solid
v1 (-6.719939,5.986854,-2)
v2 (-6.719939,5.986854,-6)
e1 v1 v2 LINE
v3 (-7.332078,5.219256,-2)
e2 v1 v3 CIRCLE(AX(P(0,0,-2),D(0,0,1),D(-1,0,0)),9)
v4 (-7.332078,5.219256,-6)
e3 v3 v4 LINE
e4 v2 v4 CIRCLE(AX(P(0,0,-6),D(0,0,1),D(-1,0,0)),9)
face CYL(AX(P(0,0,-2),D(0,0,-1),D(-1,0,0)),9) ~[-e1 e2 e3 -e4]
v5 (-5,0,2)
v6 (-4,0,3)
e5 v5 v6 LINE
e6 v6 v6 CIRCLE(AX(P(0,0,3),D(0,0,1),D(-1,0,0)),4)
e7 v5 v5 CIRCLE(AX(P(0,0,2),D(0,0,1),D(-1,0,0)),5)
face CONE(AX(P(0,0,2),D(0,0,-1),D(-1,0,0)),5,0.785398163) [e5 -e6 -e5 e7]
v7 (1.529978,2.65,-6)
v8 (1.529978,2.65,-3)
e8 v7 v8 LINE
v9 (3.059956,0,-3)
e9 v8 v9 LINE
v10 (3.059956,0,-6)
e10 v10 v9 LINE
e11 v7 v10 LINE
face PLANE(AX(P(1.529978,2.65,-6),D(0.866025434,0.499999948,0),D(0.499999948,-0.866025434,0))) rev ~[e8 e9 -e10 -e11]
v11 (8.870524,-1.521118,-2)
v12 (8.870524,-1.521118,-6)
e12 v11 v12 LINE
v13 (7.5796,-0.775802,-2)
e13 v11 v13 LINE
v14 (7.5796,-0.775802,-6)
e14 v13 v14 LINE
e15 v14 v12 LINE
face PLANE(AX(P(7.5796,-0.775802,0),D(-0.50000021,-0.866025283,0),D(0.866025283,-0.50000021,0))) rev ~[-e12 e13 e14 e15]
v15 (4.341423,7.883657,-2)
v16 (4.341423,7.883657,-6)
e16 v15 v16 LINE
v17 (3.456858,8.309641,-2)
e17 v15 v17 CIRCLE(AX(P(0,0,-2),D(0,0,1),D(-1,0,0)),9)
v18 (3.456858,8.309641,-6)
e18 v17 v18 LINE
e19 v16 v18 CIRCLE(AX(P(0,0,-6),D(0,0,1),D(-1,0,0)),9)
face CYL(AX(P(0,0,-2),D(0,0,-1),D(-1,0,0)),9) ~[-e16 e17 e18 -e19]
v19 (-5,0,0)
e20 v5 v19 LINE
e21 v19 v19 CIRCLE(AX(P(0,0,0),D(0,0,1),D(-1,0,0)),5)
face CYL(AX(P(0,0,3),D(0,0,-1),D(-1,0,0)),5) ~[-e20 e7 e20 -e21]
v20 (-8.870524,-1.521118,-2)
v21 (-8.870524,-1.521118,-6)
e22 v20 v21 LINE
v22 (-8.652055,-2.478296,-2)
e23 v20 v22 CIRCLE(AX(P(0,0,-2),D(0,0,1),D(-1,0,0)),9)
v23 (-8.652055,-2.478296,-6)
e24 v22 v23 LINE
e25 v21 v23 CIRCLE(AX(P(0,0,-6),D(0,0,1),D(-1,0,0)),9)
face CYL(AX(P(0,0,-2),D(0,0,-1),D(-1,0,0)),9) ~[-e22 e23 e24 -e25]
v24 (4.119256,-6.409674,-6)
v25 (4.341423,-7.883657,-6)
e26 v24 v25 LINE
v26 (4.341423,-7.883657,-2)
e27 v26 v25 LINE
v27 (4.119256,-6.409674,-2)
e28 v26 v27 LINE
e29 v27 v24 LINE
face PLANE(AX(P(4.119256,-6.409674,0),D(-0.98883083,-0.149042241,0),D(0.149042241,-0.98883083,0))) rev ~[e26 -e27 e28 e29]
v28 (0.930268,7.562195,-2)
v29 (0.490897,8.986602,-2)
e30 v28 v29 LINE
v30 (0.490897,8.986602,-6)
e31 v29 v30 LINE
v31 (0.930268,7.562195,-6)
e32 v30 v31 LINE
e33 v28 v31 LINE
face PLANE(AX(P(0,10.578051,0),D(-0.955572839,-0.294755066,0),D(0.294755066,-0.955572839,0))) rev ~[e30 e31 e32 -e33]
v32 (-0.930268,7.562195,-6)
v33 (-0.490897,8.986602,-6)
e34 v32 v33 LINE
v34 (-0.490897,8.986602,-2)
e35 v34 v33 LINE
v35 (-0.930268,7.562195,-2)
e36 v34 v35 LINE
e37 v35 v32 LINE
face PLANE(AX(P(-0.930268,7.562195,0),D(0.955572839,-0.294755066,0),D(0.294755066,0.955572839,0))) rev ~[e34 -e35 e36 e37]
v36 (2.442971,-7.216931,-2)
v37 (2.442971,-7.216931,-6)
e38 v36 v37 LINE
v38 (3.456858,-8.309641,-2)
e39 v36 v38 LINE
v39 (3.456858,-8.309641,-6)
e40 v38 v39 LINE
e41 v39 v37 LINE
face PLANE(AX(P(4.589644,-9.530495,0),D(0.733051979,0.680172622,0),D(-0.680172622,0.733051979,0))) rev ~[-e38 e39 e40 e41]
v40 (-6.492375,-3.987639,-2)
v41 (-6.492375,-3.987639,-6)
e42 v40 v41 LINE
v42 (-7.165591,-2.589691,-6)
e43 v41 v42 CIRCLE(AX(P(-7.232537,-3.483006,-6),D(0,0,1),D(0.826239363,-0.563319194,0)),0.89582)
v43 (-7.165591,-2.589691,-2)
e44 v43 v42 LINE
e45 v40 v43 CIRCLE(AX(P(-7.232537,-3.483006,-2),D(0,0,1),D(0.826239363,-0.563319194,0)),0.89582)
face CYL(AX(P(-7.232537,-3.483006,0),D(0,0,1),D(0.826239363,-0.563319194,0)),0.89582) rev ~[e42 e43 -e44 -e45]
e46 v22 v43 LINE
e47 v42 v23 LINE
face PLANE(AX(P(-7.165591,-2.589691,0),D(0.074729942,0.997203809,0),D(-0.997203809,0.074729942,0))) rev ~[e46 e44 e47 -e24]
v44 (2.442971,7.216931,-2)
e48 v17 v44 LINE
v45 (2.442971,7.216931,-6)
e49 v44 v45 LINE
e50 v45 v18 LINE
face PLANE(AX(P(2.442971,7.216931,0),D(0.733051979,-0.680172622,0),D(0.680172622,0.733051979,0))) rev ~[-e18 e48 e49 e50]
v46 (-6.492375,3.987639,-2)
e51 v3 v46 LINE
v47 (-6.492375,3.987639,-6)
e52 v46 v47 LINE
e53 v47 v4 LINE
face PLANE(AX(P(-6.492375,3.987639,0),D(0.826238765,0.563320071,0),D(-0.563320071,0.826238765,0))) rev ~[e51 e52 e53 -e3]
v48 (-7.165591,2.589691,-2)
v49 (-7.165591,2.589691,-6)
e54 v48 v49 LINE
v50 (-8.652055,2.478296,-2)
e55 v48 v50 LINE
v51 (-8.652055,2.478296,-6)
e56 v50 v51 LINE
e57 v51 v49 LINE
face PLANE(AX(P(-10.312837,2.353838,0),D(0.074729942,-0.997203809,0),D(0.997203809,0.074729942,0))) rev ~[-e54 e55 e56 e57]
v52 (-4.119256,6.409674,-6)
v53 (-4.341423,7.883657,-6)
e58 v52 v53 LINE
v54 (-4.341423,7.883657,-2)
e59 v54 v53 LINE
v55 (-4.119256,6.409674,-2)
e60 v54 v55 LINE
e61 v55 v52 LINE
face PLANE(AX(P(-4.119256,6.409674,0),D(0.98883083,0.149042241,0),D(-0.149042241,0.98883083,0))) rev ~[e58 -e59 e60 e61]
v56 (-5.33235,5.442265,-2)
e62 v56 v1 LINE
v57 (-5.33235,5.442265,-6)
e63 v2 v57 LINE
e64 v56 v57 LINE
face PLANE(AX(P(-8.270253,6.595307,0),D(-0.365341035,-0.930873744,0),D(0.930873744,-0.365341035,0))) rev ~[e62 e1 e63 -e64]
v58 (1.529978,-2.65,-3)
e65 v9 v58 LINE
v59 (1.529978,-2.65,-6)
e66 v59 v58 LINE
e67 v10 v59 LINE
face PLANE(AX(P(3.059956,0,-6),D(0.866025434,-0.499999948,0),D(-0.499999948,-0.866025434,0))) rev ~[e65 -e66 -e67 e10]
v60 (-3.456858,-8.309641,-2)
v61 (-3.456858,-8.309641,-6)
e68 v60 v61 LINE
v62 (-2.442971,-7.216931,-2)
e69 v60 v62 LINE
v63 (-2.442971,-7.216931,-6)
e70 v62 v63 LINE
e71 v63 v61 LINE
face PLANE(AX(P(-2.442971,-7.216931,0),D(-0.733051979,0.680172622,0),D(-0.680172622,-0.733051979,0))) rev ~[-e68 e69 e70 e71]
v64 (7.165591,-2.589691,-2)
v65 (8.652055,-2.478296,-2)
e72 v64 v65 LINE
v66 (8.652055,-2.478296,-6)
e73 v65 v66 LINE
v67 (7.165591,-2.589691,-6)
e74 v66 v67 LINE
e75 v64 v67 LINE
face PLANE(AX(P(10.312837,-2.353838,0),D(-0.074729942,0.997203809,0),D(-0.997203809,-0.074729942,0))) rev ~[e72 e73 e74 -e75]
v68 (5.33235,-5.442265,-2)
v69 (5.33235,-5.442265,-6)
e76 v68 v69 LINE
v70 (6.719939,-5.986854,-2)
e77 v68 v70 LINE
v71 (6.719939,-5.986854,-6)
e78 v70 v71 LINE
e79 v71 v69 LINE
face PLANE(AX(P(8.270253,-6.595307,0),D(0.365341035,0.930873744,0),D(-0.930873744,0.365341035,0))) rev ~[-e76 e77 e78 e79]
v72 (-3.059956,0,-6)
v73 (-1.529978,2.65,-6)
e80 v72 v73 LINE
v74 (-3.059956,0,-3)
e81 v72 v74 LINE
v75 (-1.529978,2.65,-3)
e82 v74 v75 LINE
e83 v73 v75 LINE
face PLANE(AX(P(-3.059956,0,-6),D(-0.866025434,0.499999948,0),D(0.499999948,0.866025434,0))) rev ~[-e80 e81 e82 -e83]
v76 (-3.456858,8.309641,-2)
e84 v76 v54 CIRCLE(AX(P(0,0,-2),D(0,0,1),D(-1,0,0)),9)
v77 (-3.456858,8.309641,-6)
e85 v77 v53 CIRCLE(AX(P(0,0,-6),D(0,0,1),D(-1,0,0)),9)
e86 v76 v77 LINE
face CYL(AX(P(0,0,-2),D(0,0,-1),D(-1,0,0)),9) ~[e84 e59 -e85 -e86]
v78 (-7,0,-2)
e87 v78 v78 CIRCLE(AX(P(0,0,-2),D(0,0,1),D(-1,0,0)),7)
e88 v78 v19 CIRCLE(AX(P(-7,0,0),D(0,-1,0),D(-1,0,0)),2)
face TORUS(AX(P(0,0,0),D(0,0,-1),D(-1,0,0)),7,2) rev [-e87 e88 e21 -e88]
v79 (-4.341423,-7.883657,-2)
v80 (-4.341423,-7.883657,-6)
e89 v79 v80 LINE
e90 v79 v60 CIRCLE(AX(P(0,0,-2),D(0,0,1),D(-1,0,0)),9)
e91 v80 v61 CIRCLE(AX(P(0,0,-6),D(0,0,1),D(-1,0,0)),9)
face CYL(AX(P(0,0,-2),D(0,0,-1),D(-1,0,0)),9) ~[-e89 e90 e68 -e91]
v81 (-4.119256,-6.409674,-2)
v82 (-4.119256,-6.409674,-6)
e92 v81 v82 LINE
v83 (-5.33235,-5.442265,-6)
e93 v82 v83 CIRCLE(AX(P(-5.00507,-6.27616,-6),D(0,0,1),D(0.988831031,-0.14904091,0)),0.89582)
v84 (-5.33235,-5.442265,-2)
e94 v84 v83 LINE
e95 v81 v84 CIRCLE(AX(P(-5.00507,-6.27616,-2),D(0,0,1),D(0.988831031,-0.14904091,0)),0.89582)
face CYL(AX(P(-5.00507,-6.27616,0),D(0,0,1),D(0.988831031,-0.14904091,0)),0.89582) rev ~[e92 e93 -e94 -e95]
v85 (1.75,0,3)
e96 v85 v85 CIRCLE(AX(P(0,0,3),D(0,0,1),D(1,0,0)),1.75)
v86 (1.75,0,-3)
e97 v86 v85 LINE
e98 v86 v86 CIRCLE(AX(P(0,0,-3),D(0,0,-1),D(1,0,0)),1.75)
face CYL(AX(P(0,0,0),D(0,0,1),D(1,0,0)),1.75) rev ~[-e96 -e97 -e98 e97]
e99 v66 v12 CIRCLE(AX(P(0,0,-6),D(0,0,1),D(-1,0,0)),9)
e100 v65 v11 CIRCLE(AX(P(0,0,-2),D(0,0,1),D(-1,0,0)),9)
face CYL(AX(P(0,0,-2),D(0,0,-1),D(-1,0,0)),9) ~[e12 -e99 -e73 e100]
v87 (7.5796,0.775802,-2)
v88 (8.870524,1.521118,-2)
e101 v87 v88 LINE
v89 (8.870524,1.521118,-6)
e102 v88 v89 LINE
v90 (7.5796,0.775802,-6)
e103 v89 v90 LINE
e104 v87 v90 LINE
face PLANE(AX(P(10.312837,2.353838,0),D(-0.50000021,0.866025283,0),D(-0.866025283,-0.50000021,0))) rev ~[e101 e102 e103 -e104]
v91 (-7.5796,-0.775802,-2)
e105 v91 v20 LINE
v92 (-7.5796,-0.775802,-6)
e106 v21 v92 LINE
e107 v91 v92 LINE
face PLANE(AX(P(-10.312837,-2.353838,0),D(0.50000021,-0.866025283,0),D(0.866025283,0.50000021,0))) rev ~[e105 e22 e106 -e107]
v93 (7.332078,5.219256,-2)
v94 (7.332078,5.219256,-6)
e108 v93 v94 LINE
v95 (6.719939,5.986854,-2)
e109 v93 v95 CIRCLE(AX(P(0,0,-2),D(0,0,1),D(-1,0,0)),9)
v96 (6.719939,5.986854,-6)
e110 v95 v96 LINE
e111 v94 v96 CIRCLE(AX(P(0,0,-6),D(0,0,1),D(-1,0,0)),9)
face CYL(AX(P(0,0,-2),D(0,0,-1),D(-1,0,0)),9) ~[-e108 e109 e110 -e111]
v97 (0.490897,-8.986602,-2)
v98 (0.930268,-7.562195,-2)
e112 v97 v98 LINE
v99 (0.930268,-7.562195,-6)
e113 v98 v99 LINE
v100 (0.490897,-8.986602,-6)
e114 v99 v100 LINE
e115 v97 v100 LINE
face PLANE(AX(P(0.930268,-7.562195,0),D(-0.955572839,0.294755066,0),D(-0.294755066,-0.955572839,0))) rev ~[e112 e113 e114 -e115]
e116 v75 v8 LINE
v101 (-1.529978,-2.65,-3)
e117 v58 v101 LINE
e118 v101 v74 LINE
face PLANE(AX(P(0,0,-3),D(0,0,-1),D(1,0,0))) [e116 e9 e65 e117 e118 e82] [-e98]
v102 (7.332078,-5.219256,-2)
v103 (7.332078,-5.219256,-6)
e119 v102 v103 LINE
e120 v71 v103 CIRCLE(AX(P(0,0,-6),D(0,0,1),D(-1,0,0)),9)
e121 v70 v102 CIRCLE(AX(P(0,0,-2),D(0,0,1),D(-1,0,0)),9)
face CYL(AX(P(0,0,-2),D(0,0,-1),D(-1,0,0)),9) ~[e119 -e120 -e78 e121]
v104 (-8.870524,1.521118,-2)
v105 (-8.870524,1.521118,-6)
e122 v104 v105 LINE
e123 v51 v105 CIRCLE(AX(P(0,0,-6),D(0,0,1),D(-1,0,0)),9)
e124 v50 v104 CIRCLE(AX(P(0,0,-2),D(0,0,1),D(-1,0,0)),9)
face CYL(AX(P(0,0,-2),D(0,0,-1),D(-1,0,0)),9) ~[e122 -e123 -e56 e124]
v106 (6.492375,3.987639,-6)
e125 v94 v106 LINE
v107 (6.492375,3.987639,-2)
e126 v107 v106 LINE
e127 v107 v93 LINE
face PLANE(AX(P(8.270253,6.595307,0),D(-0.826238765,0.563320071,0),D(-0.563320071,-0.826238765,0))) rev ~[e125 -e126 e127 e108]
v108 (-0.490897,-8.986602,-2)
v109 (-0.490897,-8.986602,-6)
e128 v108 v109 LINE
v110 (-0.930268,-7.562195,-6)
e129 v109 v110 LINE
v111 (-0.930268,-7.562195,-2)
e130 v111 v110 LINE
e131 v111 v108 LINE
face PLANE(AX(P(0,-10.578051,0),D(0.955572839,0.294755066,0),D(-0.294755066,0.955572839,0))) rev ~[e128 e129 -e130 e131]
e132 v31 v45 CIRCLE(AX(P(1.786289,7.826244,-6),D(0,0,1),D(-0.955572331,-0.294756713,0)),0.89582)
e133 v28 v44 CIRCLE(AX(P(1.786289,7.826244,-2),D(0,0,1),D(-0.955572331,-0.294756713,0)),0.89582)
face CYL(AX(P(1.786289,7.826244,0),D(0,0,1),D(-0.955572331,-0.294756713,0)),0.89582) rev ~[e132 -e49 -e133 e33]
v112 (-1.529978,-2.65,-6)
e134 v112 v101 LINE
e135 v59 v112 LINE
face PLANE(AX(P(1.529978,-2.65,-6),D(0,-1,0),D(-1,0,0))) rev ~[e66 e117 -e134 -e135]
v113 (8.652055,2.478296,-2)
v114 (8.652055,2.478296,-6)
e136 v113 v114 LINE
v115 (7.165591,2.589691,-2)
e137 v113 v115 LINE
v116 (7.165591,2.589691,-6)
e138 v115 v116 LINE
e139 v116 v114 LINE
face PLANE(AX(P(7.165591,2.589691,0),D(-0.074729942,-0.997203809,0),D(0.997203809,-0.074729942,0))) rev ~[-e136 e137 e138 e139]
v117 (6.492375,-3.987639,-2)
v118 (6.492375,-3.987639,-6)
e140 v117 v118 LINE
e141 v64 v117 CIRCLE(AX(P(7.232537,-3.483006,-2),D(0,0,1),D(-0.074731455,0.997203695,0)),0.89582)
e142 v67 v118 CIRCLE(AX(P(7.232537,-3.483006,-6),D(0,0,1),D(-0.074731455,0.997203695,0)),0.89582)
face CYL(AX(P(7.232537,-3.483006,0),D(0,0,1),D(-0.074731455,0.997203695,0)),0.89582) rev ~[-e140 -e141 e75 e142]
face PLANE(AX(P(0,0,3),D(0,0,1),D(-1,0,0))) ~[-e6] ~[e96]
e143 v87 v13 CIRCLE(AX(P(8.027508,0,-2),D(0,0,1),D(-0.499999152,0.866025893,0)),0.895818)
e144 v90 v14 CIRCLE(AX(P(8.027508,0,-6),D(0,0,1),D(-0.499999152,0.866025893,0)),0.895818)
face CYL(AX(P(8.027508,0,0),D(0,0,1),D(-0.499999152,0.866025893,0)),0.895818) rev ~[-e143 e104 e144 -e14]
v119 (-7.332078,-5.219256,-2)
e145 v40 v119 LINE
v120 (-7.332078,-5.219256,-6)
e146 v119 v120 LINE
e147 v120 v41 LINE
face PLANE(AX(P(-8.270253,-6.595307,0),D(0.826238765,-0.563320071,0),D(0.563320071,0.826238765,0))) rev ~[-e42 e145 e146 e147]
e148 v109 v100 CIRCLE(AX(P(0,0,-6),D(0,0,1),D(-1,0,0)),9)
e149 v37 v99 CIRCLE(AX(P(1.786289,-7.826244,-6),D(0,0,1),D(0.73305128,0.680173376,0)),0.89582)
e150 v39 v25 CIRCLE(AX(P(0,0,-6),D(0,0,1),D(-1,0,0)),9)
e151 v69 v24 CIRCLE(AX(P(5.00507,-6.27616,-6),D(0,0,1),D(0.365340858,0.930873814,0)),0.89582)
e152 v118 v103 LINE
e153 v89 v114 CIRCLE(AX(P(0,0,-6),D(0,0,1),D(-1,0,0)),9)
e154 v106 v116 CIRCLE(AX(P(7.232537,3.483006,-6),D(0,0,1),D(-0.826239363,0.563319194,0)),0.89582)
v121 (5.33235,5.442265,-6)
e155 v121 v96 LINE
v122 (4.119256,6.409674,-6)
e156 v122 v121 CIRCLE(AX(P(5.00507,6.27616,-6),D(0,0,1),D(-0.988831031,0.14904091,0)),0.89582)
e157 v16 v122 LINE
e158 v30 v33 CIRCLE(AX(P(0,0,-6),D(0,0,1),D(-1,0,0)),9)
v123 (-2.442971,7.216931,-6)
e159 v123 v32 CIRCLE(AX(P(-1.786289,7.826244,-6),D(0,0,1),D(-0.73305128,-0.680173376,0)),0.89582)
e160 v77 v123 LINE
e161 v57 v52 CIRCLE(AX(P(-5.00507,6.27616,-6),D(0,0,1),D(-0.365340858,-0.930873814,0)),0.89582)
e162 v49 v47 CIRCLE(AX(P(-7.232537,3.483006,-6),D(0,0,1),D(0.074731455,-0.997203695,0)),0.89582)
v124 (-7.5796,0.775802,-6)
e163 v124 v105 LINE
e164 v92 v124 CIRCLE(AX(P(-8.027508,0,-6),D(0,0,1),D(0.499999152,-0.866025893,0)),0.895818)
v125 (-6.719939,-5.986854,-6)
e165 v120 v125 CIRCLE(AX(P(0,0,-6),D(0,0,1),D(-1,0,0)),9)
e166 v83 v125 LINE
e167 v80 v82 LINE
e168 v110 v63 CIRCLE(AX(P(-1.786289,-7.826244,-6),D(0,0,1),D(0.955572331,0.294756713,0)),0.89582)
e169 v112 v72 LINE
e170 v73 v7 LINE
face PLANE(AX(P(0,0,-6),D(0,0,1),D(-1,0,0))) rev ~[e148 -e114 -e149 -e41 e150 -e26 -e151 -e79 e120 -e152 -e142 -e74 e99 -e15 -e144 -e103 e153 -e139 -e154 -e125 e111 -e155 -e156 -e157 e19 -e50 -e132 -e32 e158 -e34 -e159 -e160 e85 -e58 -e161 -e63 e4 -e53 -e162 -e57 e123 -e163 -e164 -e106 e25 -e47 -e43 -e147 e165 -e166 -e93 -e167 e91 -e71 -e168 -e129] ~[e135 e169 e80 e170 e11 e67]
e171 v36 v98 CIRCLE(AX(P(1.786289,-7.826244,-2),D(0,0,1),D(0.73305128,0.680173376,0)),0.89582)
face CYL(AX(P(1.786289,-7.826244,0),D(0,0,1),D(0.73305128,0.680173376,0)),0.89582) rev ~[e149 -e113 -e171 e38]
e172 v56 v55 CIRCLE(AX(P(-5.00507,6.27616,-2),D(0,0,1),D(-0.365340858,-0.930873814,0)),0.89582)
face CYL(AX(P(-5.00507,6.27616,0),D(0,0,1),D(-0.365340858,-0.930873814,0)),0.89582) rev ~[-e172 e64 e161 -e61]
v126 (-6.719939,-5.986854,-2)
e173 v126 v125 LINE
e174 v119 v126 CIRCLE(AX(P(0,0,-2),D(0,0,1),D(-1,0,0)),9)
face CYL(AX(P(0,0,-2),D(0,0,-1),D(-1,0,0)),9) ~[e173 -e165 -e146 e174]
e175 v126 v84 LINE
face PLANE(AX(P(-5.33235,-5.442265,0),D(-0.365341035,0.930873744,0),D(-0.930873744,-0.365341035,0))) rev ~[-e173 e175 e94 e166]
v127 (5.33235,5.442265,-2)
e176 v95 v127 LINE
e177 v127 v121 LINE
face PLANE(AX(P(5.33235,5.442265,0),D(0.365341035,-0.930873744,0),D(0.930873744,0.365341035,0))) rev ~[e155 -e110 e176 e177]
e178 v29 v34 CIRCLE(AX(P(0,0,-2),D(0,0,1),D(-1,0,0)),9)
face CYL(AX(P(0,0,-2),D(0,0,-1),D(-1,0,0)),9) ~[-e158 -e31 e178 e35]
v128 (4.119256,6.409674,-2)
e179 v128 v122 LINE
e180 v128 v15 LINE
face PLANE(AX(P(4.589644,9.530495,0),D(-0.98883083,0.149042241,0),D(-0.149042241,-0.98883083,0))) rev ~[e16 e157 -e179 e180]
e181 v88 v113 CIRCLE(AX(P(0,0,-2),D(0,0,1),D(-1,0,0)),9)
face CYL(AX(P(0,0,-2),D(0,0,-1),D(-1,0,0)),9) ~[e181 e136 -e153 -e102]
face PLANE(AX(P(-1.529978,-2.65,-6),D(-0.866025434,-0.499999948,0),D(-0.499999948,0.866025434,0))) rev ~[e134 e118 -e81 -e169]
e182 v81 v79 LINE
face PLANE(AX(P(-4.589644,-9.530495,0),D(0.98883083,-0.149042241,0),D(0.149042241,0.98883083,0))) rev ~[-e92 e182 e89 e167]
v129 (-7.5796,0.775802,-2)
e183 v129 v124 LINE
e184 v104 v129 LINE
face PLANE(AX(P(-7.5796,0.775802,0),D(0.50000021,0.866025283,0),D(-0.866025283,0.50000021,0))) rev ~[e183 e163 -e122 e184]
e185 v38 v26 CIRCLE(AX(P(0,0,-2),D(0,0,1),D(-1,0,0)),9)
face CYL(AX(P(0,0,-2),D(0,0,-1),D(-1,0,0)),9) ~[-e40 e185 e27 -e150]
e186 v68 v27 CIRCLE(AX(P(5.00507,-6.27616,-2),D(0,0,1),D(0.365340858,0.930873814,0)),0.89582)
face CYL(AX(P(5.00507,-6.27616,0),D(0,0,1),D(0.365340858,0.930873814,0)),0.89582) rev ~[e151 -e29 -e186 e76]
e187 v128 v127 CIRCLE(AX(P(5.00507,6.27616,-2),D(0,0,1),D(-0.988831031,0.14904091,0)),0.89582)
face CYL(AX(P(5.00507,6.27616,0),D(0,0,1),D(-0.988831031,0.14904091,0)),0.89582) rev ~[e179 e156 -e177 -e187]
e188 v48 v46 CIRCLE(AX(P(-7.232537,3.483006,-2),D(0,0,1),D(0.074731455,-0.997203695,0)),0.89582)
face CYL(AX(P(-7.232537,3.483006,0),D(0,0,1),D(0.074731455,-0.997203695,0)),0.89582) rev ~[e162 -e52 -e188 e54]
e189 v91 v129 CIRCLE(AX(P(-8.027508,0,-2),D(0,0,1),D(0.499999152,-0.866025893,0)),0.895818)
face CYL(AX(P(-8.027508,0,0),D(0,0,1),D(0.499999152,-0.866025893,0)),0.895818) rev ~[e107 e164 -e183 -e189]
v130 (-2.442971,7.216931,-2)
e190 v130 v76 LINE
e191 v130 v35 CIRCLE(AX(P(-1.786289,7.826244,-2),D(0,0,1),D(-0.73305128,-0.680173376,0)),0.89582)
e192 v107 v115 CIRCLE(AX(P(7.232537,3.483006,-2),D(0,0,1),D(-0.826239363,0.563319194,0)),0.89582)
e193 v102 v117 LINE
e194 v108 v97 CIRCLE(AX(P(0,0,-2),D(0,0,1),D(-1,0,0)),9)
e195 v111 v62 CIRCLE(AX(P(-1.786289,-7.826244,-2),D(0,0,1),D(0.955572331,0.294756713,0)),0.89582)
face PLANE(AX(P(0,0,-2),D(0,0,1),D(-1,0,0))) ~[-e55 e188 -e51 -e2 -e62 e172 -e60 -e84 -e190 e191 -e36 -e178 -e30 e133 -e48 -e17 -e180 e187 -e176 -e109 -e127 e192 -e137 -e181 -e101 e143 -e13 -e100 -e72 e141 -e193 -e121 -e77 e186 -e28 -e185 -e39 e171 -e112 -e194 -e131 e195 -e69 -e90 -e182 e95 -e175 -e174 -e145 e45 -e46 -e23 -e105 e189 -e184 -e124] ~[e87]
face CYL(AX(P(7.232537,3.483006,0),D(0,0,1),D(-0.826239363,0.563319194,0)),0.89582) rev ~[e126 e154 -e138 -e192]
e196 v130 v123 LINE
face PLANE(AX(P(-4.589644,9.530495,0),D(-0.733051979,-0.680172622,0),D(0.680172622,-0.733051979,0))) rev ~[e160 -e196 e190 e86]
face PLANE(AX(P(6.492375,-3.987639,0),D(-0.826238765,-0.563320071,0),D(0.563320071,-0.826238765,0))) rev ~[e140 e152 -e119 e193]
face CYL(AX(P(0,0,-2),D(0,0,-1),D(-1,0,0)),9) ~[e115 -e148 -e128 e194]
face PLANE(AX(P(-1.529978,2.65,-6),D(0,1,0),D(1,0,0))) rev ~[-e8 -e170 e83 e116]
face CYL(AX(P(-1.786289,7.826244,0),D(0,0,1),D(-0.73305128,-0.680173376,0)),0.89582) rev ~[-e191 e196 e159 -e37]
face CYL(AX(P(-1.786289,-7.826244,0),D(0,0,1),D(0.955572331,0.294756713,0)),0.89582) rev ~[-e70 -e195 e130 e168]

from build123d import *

# Parameters (mm, degrees)
F2_R     = 1.75
F3_DEPTH = 12.5
F5_R     = 2
F7_DEPTH = 10
F8_R     = 1.75
F9_DEPTH = 3
F10_SIZE = 1


with BuildPart() as f1:
    # F0 (on Front) → F1 (revolve)
    with BuildSketch(Plane.XZ):
        Polygon((-9, -6), (0, -6), (0, 3), (-5, 3), (-5, -2), (-9, -2), align=None)
    revolve(axis=Axis((0, 0, -1.5), (0, 0, 1)))


with BuildPart() as f3:
    # F2 (on Top) → F3 (new body, symmetric)
    with BuildSketch(Plane.XY):
        Circle(F2_R)
    extrude(amount=F3_DEPTH, both=True)


with BuildPart() as f1_1:
    add(f1.part)

    # F4: cut F3
    add(f3.part, mode=Mode.SUBTRACT)

    # F5
    f5_edges = [f1_1.edges().sort_by_distance(p)[0] for p in [
        (5, 0, -2),
    ]]
    fillet(f5_edges, radius=F5_R)

    # F6 (on Top) → F7 (cut)
    with BuildSketch(Plane.XY):
        with BuildLine():
            ThreePointArc((-7.5796, -0.775802), (-7.13169, 0), (-7.5796, 0.775802))
            Line((-7.5796, 0.775802), (-10.312837, 2.353838))
            Line((-10.312837, 2.353838), (-10.499112, 2.339878))
            Line((-10.499112, 2.339878), (-10.499112, -2.339878))
            Line((-10.499112, -2.339878), (-10.312837, -2.353838))
            Line((-10.312837, -2.353838), (-7.5796, -0.775802))
        make_face()
        with BuildLine():
            Line((-10.474608, 2.447236), (-10.312837, 2.353838))
            Line((-10.312837, 2.353838), (-7.165591, 2.589691))
            ThreePointArc((-7.165591, 2.589691), (-6.425431, 3.094324), (-6.492375, 3.987639))
            Line((-6.492375, 3.987639), (-8.270253, 6.595307))
            Line((-8.270253, 6.595307), (-8.444138, 6.663552))
            Line((-8.444138, 6.663552), (-10.474608, 2.447236))
        make_face()
        Polygon((-10.499112, 2.396354), (-10.474608, 2.447236), (-10.499112, 2.461384), align=None)
        Polygon((-10.527328, 2.337764), (-10.499112, 2.339878), (-10.499112, 2.396354), align=None)
        with BuildLine():
            Line((-7.165591, -2.589691), (-10.312837, -2.353838))
            Line((-10.312837, -2.353838), (-10.474608, -2.447236))
            Line((-10.474608, -2.447236), (-8.444138, -6.663552))
            Line((-8.444138, -6.663552), (-8.270253, -6.595307))
            Line((-8.270253, -6.595307), (-6.492375, -3.987639))
            ThreePointArc((-6.492375, -3.987639), (-6.425431, -3.094324), (-7.165591, -2.589691))
        make_face()
        Polygon((-8.470477, 6.673889), (-8.444138, 6.663552), (-8.419634, 6.714434), align=None)
        Polygon((-10.499112, -2.396354), (-10.499112, -2.339878), (-10.527328, -2.337764), align=None)
        Polygon((-10.499112, -2.461384), (-10.474608, -2.447236), (-10.499112, -2.396354), align=None)
        with BuildLine():
            Line((-8.37548, 6.749646), (-8.270253, 6.595307))
            Line((-8.270253, 6.595307), (-5.33235, 5.442265))
            ThreePointArc((-5.33235, 5.442265), (-4.446536, 5.57578), (-4.119256, 6.409674))
            Line((-4.119256, 6.409674), (-4.589644, 9.530495))
            Line((-4.589644, 9.530495), (-4.716699, 9.667427))
            Line((-4.716699, 9.667427), (-8.37548, 6.749646))
        make_face()
        Polygon((-8.391419, 6.773024), (-8.419634, 6.714434), (-8.37548, 6.749646), align=None)
        Polygon((-8.419634, -6.714434), (-8.444138, -6.663552), (-8.470477, -6.673889), align=None)
        Polygon((-8.37548, -6.749646), (-8.419634, -6.714434), (-8.391419, -6.773024), align=None)
        with BuildLine():
            Line((-5.33235, -5.442265), (-8.270253, -6.595307))
            Line((-8.270253, -6.595307), (-8.37548, -6.749646))
            Line((-8.37548, -6.749646), (-4.716699, -9.667427))
            Line((-4.716699, -9.667427), (-4.589644, -9.530495))
            Line((-4.589644, -9.530495), (-4.119256, -6.409674))
            ThreePointArc((-4.119256, -6.409674), (-4.446536, -5.57578), (-5.33235, -5.442265))
        make_face()
        Polygon((-4.735944, 9.688168), (-4.716699, 9.667427), (-4.672544, 9.702639), align=None)
        with BuildLine():
            Line((-4.617485, 9.715206), (-4.589644, 9.530495))
            Line((-4.589644, 9.530495), (-2.442971, 7.216931))
            ThreePointArc((-2.442971, 7.216931), (-1.58695, 6.952884), (-0.930268, 7.562195))
            Line((-0.930268, 7.562195), (0, 10.578051))
            Line((0, 10.578051), (-0.055059, 10.756549))
            Line((-0.055059, 10.756549), (-4.617485, 9.715206))
        make_face()
        Polygon((-4.621702, 9.743184), (-4.672544, 9.702639), (-4.617485, 9.715206), align=None)
        Polygon((-4.672544, -9.702639), (-4.716699, -9.667427), (-4.735944, -9.688168), align=None)
        Polygon((-4.617485, -9.715206), (-4.672544, -9.702639), (-4.621702, -9.743184), align=None)
        with BuildLine():
            Line((-2.442971, -7.216931), (-4.589644, -9.530495))
            Line((-4.589644, -9.530495), (-4.617485, -9.715206))
            Line((-4.617485, -9.715206), (-0.055059, -10.756549))
            Line((-0.055059, -10.756549), (0, -10.578051))
            Line((0, -10.578051), (-0.930268, -7.562195))
            ThreePointArc((-0.930268, -7.562195), (-1.58695, -6.952884), (-2.442971, -7.216931))
        make_face()
        Polygon((-0.063399, 10.783587), (-0.055059, 10.756549), (0, 10.769116), align=None)
        with BuildLine():
            Line((0.055059, 10.756549), (0, 10.578051))
            Line((0, 10.578051), (0.930268, 7.562195))
            ThreePointArc((0.930268, 7.562195), (1.58695, 6.952884), (2.442971, 7.216931))
            Line((2.442971, 7.216931), (4.589644, 9.530495))
            Line((4.589644, 9.530495), (4.617485, 9.715206))
            Line((4.617485, 9.715206), (0.055059, 10.756549))
        make_face()
        Polygon((0.063399, 10.783587), (0, 10.769116), (0.055059, 10.756549), align=None)
        Polygon((0, -10.769116), (-0.055059, -10.756549), (-0.063399, -10.783587), align=None)
        Polygon((0.055059, -10.756549), (0, -10.769116), (0.063399, -10.783587), align=None)
        with BuildLine():
            Line((0.930268, -7.562195), (0, -10.578051))
            Line((0, -10.578051), (0.055059, -10.756549))
            Line((0.055059, -10.756549), (4.617485, -9.715206))
            Line((4.617485, -9.715206), (4.589644, -9.530495))
            Line((4.589644, -9.530495), (2.442971, -7.216931))
            ThreePointArc((2.442971, -7.216931), (1.58695, -6.952884), (0.930268, -7.562195))
        make_face()
        Polygon((4.621702, 9.743184), (4.617485, 9.715206), (4.672544, 9.702639), align=None)
        with BuildLine():
            Line((4.716699, 9.667427), (4.589644, 9.530495))
            Line((4.589644, 9.530495), (4.119256, 6.409674))
            ThreePointArc((4.119256, 6.409674), (4.446536, 5.57578), (5.33235, 5.442265))
            Line((5.33235, 5.442265), (8.270253, 6.595307))
            Line((8.270253, 6.595307), (8.37548, 6.749646))
            Line((8.37548, 6.749646), (4.716699, 9.667427))
        make_face()
        Polygon((4.735944, 9.688168), (4.672544, 9.702639), (4.716699, 9.667427), align=None)
        Polygon((4.672544, -9.702639), (4.617485, -9.715206), (4.621702, -9.743184), align=None)
        Polygon((4.716699, -9.667427), (4.672544, -9.702639), (4.735944, -9.688168), align=None)
        with BuildLine():
            Line((4.119256, -6.409674), (4.589644, -9.530495))
            Line((4.589644, -9.530495), (4.716699, -9.667427))
            Line((4.716699, -9.667427), (8.37548, -6.749646))
            Line((8.37548, -6.749646), (8.270253, -6.595307))
            Line((8.270253, -6.595307), (5.33235, -5.442265))
            ThreePointArc((5.33235, -5.442265), (4.446536, -5.57578), (4.119256, -6.409674))
        make_face()
        Polygon((8.391419, 6.773024), (8.37548, 6.749646), (8.419634, 6.714434), align=None)
        with BuildLine():
            Line((8.444138, 6.663552), (8.270253, 6.595307))
            Line((8.270253, 6.595307), (6.492375, 3.987639))
            ThreePointArc((6.492375, 3.987639), (6.425431, 3.094324), (7.165591, 2.589691))
            Line((7.165591, 2.589691), (10.312837, 2.353838))
            Line((10.312837, 2.353838), (10.474608, 2.447236))
            Line((10.474608, 2.447236), (8.444138, 6.663552))
        make_face()
        Polygon((8.470477, 6.673889), (8.419634, 6.714434), (8.444138, 6.663552), align=None)
        Polygon((8.419634, -6.714434), (8.37548, -6.749646), (8.391419, -6.773024), align=None)
        Polygon((8.444138, -6.663552), (8.419634, -6.714434), (8.470477, -6.673889), align=None)
        with BuildLine():
            Line((6.492375, -3.987639), (8.270253, -6.595307))
            Line((8.270253, -6.595307), (8.444138, -6.663552))
            Line((8.444138, -6.663552), (10.474608, -2.447236))
            Line((10.474608, -2.447236), (10.312837, -2.353838))
            Line((10.312837, -2.353838), (7.165591, -2.589691))
            ThreePointArc((7.165591, -2.589691), (6.425431, -3.094324), (6.492375, -3.987639))
        make_face()
        Polygon((10.499112, 2.461384), (10.474608, 2.447236), (10.499112, 2.396354), align=None)
        with BuildLine():
            Line((10.499112, 2.339878), (10.312837, 2.353838))
            Line((10.312837, 2.353838), (7.5796, 0.775802))
            ThreePointArc((7.5796, 0.775802), (7.13169, 0), (7.5796, -0.775802))
            Line((7.5796, -0.775802), (10.312837, -2.353838))
            Line((10.312837, -2.353838), (10.499112, -2.339878))
            Line((10.499112, -2.339878), (10.499112, 2.339878))
        make_face()
        Polygon((10.527328, 2.337764), (10.499112, 2.396354), (10.499112, 2.339878), align=None)
        Polygon((10.499112, -2.396354), (10.474608, -2.447236), (10.499112, -2.461384), align=None)
        Polygon((10.499112, -2.339878), (10.499112, -2.396354), (10.527328, -2.337764), align=None)
    extrude(amount=-F7_DEPTH, mode=Mode.SUBTRACT)

    # F8 (on face) → F9 (cut)
    with BuildSketch(Plane(origin=(0, 0, -6), x_dir=(1, 0, 0), z_dir=(0, 0, -1))):
        Polygon((-1.529978, -2.65), (1.529978, -2.65), (3.059956, 0), (1.529978, 2.65), (-1.529978, 2.65), (-3.059956, 0), align=None)
        Circle(F8_R, mode=Mode.SUBTRACT)
    extrude(amount=-F9_DEPTH, mode=Mode.SUBTRACT)

    # F10
    f10_edges = [f1_1.edges().sort_by_distance(p)[0] for p in [
        (5, 0, 3),
    ]]
    chamfer(f10_edges, length=F10_SIZE)


solid = f1_1.part
